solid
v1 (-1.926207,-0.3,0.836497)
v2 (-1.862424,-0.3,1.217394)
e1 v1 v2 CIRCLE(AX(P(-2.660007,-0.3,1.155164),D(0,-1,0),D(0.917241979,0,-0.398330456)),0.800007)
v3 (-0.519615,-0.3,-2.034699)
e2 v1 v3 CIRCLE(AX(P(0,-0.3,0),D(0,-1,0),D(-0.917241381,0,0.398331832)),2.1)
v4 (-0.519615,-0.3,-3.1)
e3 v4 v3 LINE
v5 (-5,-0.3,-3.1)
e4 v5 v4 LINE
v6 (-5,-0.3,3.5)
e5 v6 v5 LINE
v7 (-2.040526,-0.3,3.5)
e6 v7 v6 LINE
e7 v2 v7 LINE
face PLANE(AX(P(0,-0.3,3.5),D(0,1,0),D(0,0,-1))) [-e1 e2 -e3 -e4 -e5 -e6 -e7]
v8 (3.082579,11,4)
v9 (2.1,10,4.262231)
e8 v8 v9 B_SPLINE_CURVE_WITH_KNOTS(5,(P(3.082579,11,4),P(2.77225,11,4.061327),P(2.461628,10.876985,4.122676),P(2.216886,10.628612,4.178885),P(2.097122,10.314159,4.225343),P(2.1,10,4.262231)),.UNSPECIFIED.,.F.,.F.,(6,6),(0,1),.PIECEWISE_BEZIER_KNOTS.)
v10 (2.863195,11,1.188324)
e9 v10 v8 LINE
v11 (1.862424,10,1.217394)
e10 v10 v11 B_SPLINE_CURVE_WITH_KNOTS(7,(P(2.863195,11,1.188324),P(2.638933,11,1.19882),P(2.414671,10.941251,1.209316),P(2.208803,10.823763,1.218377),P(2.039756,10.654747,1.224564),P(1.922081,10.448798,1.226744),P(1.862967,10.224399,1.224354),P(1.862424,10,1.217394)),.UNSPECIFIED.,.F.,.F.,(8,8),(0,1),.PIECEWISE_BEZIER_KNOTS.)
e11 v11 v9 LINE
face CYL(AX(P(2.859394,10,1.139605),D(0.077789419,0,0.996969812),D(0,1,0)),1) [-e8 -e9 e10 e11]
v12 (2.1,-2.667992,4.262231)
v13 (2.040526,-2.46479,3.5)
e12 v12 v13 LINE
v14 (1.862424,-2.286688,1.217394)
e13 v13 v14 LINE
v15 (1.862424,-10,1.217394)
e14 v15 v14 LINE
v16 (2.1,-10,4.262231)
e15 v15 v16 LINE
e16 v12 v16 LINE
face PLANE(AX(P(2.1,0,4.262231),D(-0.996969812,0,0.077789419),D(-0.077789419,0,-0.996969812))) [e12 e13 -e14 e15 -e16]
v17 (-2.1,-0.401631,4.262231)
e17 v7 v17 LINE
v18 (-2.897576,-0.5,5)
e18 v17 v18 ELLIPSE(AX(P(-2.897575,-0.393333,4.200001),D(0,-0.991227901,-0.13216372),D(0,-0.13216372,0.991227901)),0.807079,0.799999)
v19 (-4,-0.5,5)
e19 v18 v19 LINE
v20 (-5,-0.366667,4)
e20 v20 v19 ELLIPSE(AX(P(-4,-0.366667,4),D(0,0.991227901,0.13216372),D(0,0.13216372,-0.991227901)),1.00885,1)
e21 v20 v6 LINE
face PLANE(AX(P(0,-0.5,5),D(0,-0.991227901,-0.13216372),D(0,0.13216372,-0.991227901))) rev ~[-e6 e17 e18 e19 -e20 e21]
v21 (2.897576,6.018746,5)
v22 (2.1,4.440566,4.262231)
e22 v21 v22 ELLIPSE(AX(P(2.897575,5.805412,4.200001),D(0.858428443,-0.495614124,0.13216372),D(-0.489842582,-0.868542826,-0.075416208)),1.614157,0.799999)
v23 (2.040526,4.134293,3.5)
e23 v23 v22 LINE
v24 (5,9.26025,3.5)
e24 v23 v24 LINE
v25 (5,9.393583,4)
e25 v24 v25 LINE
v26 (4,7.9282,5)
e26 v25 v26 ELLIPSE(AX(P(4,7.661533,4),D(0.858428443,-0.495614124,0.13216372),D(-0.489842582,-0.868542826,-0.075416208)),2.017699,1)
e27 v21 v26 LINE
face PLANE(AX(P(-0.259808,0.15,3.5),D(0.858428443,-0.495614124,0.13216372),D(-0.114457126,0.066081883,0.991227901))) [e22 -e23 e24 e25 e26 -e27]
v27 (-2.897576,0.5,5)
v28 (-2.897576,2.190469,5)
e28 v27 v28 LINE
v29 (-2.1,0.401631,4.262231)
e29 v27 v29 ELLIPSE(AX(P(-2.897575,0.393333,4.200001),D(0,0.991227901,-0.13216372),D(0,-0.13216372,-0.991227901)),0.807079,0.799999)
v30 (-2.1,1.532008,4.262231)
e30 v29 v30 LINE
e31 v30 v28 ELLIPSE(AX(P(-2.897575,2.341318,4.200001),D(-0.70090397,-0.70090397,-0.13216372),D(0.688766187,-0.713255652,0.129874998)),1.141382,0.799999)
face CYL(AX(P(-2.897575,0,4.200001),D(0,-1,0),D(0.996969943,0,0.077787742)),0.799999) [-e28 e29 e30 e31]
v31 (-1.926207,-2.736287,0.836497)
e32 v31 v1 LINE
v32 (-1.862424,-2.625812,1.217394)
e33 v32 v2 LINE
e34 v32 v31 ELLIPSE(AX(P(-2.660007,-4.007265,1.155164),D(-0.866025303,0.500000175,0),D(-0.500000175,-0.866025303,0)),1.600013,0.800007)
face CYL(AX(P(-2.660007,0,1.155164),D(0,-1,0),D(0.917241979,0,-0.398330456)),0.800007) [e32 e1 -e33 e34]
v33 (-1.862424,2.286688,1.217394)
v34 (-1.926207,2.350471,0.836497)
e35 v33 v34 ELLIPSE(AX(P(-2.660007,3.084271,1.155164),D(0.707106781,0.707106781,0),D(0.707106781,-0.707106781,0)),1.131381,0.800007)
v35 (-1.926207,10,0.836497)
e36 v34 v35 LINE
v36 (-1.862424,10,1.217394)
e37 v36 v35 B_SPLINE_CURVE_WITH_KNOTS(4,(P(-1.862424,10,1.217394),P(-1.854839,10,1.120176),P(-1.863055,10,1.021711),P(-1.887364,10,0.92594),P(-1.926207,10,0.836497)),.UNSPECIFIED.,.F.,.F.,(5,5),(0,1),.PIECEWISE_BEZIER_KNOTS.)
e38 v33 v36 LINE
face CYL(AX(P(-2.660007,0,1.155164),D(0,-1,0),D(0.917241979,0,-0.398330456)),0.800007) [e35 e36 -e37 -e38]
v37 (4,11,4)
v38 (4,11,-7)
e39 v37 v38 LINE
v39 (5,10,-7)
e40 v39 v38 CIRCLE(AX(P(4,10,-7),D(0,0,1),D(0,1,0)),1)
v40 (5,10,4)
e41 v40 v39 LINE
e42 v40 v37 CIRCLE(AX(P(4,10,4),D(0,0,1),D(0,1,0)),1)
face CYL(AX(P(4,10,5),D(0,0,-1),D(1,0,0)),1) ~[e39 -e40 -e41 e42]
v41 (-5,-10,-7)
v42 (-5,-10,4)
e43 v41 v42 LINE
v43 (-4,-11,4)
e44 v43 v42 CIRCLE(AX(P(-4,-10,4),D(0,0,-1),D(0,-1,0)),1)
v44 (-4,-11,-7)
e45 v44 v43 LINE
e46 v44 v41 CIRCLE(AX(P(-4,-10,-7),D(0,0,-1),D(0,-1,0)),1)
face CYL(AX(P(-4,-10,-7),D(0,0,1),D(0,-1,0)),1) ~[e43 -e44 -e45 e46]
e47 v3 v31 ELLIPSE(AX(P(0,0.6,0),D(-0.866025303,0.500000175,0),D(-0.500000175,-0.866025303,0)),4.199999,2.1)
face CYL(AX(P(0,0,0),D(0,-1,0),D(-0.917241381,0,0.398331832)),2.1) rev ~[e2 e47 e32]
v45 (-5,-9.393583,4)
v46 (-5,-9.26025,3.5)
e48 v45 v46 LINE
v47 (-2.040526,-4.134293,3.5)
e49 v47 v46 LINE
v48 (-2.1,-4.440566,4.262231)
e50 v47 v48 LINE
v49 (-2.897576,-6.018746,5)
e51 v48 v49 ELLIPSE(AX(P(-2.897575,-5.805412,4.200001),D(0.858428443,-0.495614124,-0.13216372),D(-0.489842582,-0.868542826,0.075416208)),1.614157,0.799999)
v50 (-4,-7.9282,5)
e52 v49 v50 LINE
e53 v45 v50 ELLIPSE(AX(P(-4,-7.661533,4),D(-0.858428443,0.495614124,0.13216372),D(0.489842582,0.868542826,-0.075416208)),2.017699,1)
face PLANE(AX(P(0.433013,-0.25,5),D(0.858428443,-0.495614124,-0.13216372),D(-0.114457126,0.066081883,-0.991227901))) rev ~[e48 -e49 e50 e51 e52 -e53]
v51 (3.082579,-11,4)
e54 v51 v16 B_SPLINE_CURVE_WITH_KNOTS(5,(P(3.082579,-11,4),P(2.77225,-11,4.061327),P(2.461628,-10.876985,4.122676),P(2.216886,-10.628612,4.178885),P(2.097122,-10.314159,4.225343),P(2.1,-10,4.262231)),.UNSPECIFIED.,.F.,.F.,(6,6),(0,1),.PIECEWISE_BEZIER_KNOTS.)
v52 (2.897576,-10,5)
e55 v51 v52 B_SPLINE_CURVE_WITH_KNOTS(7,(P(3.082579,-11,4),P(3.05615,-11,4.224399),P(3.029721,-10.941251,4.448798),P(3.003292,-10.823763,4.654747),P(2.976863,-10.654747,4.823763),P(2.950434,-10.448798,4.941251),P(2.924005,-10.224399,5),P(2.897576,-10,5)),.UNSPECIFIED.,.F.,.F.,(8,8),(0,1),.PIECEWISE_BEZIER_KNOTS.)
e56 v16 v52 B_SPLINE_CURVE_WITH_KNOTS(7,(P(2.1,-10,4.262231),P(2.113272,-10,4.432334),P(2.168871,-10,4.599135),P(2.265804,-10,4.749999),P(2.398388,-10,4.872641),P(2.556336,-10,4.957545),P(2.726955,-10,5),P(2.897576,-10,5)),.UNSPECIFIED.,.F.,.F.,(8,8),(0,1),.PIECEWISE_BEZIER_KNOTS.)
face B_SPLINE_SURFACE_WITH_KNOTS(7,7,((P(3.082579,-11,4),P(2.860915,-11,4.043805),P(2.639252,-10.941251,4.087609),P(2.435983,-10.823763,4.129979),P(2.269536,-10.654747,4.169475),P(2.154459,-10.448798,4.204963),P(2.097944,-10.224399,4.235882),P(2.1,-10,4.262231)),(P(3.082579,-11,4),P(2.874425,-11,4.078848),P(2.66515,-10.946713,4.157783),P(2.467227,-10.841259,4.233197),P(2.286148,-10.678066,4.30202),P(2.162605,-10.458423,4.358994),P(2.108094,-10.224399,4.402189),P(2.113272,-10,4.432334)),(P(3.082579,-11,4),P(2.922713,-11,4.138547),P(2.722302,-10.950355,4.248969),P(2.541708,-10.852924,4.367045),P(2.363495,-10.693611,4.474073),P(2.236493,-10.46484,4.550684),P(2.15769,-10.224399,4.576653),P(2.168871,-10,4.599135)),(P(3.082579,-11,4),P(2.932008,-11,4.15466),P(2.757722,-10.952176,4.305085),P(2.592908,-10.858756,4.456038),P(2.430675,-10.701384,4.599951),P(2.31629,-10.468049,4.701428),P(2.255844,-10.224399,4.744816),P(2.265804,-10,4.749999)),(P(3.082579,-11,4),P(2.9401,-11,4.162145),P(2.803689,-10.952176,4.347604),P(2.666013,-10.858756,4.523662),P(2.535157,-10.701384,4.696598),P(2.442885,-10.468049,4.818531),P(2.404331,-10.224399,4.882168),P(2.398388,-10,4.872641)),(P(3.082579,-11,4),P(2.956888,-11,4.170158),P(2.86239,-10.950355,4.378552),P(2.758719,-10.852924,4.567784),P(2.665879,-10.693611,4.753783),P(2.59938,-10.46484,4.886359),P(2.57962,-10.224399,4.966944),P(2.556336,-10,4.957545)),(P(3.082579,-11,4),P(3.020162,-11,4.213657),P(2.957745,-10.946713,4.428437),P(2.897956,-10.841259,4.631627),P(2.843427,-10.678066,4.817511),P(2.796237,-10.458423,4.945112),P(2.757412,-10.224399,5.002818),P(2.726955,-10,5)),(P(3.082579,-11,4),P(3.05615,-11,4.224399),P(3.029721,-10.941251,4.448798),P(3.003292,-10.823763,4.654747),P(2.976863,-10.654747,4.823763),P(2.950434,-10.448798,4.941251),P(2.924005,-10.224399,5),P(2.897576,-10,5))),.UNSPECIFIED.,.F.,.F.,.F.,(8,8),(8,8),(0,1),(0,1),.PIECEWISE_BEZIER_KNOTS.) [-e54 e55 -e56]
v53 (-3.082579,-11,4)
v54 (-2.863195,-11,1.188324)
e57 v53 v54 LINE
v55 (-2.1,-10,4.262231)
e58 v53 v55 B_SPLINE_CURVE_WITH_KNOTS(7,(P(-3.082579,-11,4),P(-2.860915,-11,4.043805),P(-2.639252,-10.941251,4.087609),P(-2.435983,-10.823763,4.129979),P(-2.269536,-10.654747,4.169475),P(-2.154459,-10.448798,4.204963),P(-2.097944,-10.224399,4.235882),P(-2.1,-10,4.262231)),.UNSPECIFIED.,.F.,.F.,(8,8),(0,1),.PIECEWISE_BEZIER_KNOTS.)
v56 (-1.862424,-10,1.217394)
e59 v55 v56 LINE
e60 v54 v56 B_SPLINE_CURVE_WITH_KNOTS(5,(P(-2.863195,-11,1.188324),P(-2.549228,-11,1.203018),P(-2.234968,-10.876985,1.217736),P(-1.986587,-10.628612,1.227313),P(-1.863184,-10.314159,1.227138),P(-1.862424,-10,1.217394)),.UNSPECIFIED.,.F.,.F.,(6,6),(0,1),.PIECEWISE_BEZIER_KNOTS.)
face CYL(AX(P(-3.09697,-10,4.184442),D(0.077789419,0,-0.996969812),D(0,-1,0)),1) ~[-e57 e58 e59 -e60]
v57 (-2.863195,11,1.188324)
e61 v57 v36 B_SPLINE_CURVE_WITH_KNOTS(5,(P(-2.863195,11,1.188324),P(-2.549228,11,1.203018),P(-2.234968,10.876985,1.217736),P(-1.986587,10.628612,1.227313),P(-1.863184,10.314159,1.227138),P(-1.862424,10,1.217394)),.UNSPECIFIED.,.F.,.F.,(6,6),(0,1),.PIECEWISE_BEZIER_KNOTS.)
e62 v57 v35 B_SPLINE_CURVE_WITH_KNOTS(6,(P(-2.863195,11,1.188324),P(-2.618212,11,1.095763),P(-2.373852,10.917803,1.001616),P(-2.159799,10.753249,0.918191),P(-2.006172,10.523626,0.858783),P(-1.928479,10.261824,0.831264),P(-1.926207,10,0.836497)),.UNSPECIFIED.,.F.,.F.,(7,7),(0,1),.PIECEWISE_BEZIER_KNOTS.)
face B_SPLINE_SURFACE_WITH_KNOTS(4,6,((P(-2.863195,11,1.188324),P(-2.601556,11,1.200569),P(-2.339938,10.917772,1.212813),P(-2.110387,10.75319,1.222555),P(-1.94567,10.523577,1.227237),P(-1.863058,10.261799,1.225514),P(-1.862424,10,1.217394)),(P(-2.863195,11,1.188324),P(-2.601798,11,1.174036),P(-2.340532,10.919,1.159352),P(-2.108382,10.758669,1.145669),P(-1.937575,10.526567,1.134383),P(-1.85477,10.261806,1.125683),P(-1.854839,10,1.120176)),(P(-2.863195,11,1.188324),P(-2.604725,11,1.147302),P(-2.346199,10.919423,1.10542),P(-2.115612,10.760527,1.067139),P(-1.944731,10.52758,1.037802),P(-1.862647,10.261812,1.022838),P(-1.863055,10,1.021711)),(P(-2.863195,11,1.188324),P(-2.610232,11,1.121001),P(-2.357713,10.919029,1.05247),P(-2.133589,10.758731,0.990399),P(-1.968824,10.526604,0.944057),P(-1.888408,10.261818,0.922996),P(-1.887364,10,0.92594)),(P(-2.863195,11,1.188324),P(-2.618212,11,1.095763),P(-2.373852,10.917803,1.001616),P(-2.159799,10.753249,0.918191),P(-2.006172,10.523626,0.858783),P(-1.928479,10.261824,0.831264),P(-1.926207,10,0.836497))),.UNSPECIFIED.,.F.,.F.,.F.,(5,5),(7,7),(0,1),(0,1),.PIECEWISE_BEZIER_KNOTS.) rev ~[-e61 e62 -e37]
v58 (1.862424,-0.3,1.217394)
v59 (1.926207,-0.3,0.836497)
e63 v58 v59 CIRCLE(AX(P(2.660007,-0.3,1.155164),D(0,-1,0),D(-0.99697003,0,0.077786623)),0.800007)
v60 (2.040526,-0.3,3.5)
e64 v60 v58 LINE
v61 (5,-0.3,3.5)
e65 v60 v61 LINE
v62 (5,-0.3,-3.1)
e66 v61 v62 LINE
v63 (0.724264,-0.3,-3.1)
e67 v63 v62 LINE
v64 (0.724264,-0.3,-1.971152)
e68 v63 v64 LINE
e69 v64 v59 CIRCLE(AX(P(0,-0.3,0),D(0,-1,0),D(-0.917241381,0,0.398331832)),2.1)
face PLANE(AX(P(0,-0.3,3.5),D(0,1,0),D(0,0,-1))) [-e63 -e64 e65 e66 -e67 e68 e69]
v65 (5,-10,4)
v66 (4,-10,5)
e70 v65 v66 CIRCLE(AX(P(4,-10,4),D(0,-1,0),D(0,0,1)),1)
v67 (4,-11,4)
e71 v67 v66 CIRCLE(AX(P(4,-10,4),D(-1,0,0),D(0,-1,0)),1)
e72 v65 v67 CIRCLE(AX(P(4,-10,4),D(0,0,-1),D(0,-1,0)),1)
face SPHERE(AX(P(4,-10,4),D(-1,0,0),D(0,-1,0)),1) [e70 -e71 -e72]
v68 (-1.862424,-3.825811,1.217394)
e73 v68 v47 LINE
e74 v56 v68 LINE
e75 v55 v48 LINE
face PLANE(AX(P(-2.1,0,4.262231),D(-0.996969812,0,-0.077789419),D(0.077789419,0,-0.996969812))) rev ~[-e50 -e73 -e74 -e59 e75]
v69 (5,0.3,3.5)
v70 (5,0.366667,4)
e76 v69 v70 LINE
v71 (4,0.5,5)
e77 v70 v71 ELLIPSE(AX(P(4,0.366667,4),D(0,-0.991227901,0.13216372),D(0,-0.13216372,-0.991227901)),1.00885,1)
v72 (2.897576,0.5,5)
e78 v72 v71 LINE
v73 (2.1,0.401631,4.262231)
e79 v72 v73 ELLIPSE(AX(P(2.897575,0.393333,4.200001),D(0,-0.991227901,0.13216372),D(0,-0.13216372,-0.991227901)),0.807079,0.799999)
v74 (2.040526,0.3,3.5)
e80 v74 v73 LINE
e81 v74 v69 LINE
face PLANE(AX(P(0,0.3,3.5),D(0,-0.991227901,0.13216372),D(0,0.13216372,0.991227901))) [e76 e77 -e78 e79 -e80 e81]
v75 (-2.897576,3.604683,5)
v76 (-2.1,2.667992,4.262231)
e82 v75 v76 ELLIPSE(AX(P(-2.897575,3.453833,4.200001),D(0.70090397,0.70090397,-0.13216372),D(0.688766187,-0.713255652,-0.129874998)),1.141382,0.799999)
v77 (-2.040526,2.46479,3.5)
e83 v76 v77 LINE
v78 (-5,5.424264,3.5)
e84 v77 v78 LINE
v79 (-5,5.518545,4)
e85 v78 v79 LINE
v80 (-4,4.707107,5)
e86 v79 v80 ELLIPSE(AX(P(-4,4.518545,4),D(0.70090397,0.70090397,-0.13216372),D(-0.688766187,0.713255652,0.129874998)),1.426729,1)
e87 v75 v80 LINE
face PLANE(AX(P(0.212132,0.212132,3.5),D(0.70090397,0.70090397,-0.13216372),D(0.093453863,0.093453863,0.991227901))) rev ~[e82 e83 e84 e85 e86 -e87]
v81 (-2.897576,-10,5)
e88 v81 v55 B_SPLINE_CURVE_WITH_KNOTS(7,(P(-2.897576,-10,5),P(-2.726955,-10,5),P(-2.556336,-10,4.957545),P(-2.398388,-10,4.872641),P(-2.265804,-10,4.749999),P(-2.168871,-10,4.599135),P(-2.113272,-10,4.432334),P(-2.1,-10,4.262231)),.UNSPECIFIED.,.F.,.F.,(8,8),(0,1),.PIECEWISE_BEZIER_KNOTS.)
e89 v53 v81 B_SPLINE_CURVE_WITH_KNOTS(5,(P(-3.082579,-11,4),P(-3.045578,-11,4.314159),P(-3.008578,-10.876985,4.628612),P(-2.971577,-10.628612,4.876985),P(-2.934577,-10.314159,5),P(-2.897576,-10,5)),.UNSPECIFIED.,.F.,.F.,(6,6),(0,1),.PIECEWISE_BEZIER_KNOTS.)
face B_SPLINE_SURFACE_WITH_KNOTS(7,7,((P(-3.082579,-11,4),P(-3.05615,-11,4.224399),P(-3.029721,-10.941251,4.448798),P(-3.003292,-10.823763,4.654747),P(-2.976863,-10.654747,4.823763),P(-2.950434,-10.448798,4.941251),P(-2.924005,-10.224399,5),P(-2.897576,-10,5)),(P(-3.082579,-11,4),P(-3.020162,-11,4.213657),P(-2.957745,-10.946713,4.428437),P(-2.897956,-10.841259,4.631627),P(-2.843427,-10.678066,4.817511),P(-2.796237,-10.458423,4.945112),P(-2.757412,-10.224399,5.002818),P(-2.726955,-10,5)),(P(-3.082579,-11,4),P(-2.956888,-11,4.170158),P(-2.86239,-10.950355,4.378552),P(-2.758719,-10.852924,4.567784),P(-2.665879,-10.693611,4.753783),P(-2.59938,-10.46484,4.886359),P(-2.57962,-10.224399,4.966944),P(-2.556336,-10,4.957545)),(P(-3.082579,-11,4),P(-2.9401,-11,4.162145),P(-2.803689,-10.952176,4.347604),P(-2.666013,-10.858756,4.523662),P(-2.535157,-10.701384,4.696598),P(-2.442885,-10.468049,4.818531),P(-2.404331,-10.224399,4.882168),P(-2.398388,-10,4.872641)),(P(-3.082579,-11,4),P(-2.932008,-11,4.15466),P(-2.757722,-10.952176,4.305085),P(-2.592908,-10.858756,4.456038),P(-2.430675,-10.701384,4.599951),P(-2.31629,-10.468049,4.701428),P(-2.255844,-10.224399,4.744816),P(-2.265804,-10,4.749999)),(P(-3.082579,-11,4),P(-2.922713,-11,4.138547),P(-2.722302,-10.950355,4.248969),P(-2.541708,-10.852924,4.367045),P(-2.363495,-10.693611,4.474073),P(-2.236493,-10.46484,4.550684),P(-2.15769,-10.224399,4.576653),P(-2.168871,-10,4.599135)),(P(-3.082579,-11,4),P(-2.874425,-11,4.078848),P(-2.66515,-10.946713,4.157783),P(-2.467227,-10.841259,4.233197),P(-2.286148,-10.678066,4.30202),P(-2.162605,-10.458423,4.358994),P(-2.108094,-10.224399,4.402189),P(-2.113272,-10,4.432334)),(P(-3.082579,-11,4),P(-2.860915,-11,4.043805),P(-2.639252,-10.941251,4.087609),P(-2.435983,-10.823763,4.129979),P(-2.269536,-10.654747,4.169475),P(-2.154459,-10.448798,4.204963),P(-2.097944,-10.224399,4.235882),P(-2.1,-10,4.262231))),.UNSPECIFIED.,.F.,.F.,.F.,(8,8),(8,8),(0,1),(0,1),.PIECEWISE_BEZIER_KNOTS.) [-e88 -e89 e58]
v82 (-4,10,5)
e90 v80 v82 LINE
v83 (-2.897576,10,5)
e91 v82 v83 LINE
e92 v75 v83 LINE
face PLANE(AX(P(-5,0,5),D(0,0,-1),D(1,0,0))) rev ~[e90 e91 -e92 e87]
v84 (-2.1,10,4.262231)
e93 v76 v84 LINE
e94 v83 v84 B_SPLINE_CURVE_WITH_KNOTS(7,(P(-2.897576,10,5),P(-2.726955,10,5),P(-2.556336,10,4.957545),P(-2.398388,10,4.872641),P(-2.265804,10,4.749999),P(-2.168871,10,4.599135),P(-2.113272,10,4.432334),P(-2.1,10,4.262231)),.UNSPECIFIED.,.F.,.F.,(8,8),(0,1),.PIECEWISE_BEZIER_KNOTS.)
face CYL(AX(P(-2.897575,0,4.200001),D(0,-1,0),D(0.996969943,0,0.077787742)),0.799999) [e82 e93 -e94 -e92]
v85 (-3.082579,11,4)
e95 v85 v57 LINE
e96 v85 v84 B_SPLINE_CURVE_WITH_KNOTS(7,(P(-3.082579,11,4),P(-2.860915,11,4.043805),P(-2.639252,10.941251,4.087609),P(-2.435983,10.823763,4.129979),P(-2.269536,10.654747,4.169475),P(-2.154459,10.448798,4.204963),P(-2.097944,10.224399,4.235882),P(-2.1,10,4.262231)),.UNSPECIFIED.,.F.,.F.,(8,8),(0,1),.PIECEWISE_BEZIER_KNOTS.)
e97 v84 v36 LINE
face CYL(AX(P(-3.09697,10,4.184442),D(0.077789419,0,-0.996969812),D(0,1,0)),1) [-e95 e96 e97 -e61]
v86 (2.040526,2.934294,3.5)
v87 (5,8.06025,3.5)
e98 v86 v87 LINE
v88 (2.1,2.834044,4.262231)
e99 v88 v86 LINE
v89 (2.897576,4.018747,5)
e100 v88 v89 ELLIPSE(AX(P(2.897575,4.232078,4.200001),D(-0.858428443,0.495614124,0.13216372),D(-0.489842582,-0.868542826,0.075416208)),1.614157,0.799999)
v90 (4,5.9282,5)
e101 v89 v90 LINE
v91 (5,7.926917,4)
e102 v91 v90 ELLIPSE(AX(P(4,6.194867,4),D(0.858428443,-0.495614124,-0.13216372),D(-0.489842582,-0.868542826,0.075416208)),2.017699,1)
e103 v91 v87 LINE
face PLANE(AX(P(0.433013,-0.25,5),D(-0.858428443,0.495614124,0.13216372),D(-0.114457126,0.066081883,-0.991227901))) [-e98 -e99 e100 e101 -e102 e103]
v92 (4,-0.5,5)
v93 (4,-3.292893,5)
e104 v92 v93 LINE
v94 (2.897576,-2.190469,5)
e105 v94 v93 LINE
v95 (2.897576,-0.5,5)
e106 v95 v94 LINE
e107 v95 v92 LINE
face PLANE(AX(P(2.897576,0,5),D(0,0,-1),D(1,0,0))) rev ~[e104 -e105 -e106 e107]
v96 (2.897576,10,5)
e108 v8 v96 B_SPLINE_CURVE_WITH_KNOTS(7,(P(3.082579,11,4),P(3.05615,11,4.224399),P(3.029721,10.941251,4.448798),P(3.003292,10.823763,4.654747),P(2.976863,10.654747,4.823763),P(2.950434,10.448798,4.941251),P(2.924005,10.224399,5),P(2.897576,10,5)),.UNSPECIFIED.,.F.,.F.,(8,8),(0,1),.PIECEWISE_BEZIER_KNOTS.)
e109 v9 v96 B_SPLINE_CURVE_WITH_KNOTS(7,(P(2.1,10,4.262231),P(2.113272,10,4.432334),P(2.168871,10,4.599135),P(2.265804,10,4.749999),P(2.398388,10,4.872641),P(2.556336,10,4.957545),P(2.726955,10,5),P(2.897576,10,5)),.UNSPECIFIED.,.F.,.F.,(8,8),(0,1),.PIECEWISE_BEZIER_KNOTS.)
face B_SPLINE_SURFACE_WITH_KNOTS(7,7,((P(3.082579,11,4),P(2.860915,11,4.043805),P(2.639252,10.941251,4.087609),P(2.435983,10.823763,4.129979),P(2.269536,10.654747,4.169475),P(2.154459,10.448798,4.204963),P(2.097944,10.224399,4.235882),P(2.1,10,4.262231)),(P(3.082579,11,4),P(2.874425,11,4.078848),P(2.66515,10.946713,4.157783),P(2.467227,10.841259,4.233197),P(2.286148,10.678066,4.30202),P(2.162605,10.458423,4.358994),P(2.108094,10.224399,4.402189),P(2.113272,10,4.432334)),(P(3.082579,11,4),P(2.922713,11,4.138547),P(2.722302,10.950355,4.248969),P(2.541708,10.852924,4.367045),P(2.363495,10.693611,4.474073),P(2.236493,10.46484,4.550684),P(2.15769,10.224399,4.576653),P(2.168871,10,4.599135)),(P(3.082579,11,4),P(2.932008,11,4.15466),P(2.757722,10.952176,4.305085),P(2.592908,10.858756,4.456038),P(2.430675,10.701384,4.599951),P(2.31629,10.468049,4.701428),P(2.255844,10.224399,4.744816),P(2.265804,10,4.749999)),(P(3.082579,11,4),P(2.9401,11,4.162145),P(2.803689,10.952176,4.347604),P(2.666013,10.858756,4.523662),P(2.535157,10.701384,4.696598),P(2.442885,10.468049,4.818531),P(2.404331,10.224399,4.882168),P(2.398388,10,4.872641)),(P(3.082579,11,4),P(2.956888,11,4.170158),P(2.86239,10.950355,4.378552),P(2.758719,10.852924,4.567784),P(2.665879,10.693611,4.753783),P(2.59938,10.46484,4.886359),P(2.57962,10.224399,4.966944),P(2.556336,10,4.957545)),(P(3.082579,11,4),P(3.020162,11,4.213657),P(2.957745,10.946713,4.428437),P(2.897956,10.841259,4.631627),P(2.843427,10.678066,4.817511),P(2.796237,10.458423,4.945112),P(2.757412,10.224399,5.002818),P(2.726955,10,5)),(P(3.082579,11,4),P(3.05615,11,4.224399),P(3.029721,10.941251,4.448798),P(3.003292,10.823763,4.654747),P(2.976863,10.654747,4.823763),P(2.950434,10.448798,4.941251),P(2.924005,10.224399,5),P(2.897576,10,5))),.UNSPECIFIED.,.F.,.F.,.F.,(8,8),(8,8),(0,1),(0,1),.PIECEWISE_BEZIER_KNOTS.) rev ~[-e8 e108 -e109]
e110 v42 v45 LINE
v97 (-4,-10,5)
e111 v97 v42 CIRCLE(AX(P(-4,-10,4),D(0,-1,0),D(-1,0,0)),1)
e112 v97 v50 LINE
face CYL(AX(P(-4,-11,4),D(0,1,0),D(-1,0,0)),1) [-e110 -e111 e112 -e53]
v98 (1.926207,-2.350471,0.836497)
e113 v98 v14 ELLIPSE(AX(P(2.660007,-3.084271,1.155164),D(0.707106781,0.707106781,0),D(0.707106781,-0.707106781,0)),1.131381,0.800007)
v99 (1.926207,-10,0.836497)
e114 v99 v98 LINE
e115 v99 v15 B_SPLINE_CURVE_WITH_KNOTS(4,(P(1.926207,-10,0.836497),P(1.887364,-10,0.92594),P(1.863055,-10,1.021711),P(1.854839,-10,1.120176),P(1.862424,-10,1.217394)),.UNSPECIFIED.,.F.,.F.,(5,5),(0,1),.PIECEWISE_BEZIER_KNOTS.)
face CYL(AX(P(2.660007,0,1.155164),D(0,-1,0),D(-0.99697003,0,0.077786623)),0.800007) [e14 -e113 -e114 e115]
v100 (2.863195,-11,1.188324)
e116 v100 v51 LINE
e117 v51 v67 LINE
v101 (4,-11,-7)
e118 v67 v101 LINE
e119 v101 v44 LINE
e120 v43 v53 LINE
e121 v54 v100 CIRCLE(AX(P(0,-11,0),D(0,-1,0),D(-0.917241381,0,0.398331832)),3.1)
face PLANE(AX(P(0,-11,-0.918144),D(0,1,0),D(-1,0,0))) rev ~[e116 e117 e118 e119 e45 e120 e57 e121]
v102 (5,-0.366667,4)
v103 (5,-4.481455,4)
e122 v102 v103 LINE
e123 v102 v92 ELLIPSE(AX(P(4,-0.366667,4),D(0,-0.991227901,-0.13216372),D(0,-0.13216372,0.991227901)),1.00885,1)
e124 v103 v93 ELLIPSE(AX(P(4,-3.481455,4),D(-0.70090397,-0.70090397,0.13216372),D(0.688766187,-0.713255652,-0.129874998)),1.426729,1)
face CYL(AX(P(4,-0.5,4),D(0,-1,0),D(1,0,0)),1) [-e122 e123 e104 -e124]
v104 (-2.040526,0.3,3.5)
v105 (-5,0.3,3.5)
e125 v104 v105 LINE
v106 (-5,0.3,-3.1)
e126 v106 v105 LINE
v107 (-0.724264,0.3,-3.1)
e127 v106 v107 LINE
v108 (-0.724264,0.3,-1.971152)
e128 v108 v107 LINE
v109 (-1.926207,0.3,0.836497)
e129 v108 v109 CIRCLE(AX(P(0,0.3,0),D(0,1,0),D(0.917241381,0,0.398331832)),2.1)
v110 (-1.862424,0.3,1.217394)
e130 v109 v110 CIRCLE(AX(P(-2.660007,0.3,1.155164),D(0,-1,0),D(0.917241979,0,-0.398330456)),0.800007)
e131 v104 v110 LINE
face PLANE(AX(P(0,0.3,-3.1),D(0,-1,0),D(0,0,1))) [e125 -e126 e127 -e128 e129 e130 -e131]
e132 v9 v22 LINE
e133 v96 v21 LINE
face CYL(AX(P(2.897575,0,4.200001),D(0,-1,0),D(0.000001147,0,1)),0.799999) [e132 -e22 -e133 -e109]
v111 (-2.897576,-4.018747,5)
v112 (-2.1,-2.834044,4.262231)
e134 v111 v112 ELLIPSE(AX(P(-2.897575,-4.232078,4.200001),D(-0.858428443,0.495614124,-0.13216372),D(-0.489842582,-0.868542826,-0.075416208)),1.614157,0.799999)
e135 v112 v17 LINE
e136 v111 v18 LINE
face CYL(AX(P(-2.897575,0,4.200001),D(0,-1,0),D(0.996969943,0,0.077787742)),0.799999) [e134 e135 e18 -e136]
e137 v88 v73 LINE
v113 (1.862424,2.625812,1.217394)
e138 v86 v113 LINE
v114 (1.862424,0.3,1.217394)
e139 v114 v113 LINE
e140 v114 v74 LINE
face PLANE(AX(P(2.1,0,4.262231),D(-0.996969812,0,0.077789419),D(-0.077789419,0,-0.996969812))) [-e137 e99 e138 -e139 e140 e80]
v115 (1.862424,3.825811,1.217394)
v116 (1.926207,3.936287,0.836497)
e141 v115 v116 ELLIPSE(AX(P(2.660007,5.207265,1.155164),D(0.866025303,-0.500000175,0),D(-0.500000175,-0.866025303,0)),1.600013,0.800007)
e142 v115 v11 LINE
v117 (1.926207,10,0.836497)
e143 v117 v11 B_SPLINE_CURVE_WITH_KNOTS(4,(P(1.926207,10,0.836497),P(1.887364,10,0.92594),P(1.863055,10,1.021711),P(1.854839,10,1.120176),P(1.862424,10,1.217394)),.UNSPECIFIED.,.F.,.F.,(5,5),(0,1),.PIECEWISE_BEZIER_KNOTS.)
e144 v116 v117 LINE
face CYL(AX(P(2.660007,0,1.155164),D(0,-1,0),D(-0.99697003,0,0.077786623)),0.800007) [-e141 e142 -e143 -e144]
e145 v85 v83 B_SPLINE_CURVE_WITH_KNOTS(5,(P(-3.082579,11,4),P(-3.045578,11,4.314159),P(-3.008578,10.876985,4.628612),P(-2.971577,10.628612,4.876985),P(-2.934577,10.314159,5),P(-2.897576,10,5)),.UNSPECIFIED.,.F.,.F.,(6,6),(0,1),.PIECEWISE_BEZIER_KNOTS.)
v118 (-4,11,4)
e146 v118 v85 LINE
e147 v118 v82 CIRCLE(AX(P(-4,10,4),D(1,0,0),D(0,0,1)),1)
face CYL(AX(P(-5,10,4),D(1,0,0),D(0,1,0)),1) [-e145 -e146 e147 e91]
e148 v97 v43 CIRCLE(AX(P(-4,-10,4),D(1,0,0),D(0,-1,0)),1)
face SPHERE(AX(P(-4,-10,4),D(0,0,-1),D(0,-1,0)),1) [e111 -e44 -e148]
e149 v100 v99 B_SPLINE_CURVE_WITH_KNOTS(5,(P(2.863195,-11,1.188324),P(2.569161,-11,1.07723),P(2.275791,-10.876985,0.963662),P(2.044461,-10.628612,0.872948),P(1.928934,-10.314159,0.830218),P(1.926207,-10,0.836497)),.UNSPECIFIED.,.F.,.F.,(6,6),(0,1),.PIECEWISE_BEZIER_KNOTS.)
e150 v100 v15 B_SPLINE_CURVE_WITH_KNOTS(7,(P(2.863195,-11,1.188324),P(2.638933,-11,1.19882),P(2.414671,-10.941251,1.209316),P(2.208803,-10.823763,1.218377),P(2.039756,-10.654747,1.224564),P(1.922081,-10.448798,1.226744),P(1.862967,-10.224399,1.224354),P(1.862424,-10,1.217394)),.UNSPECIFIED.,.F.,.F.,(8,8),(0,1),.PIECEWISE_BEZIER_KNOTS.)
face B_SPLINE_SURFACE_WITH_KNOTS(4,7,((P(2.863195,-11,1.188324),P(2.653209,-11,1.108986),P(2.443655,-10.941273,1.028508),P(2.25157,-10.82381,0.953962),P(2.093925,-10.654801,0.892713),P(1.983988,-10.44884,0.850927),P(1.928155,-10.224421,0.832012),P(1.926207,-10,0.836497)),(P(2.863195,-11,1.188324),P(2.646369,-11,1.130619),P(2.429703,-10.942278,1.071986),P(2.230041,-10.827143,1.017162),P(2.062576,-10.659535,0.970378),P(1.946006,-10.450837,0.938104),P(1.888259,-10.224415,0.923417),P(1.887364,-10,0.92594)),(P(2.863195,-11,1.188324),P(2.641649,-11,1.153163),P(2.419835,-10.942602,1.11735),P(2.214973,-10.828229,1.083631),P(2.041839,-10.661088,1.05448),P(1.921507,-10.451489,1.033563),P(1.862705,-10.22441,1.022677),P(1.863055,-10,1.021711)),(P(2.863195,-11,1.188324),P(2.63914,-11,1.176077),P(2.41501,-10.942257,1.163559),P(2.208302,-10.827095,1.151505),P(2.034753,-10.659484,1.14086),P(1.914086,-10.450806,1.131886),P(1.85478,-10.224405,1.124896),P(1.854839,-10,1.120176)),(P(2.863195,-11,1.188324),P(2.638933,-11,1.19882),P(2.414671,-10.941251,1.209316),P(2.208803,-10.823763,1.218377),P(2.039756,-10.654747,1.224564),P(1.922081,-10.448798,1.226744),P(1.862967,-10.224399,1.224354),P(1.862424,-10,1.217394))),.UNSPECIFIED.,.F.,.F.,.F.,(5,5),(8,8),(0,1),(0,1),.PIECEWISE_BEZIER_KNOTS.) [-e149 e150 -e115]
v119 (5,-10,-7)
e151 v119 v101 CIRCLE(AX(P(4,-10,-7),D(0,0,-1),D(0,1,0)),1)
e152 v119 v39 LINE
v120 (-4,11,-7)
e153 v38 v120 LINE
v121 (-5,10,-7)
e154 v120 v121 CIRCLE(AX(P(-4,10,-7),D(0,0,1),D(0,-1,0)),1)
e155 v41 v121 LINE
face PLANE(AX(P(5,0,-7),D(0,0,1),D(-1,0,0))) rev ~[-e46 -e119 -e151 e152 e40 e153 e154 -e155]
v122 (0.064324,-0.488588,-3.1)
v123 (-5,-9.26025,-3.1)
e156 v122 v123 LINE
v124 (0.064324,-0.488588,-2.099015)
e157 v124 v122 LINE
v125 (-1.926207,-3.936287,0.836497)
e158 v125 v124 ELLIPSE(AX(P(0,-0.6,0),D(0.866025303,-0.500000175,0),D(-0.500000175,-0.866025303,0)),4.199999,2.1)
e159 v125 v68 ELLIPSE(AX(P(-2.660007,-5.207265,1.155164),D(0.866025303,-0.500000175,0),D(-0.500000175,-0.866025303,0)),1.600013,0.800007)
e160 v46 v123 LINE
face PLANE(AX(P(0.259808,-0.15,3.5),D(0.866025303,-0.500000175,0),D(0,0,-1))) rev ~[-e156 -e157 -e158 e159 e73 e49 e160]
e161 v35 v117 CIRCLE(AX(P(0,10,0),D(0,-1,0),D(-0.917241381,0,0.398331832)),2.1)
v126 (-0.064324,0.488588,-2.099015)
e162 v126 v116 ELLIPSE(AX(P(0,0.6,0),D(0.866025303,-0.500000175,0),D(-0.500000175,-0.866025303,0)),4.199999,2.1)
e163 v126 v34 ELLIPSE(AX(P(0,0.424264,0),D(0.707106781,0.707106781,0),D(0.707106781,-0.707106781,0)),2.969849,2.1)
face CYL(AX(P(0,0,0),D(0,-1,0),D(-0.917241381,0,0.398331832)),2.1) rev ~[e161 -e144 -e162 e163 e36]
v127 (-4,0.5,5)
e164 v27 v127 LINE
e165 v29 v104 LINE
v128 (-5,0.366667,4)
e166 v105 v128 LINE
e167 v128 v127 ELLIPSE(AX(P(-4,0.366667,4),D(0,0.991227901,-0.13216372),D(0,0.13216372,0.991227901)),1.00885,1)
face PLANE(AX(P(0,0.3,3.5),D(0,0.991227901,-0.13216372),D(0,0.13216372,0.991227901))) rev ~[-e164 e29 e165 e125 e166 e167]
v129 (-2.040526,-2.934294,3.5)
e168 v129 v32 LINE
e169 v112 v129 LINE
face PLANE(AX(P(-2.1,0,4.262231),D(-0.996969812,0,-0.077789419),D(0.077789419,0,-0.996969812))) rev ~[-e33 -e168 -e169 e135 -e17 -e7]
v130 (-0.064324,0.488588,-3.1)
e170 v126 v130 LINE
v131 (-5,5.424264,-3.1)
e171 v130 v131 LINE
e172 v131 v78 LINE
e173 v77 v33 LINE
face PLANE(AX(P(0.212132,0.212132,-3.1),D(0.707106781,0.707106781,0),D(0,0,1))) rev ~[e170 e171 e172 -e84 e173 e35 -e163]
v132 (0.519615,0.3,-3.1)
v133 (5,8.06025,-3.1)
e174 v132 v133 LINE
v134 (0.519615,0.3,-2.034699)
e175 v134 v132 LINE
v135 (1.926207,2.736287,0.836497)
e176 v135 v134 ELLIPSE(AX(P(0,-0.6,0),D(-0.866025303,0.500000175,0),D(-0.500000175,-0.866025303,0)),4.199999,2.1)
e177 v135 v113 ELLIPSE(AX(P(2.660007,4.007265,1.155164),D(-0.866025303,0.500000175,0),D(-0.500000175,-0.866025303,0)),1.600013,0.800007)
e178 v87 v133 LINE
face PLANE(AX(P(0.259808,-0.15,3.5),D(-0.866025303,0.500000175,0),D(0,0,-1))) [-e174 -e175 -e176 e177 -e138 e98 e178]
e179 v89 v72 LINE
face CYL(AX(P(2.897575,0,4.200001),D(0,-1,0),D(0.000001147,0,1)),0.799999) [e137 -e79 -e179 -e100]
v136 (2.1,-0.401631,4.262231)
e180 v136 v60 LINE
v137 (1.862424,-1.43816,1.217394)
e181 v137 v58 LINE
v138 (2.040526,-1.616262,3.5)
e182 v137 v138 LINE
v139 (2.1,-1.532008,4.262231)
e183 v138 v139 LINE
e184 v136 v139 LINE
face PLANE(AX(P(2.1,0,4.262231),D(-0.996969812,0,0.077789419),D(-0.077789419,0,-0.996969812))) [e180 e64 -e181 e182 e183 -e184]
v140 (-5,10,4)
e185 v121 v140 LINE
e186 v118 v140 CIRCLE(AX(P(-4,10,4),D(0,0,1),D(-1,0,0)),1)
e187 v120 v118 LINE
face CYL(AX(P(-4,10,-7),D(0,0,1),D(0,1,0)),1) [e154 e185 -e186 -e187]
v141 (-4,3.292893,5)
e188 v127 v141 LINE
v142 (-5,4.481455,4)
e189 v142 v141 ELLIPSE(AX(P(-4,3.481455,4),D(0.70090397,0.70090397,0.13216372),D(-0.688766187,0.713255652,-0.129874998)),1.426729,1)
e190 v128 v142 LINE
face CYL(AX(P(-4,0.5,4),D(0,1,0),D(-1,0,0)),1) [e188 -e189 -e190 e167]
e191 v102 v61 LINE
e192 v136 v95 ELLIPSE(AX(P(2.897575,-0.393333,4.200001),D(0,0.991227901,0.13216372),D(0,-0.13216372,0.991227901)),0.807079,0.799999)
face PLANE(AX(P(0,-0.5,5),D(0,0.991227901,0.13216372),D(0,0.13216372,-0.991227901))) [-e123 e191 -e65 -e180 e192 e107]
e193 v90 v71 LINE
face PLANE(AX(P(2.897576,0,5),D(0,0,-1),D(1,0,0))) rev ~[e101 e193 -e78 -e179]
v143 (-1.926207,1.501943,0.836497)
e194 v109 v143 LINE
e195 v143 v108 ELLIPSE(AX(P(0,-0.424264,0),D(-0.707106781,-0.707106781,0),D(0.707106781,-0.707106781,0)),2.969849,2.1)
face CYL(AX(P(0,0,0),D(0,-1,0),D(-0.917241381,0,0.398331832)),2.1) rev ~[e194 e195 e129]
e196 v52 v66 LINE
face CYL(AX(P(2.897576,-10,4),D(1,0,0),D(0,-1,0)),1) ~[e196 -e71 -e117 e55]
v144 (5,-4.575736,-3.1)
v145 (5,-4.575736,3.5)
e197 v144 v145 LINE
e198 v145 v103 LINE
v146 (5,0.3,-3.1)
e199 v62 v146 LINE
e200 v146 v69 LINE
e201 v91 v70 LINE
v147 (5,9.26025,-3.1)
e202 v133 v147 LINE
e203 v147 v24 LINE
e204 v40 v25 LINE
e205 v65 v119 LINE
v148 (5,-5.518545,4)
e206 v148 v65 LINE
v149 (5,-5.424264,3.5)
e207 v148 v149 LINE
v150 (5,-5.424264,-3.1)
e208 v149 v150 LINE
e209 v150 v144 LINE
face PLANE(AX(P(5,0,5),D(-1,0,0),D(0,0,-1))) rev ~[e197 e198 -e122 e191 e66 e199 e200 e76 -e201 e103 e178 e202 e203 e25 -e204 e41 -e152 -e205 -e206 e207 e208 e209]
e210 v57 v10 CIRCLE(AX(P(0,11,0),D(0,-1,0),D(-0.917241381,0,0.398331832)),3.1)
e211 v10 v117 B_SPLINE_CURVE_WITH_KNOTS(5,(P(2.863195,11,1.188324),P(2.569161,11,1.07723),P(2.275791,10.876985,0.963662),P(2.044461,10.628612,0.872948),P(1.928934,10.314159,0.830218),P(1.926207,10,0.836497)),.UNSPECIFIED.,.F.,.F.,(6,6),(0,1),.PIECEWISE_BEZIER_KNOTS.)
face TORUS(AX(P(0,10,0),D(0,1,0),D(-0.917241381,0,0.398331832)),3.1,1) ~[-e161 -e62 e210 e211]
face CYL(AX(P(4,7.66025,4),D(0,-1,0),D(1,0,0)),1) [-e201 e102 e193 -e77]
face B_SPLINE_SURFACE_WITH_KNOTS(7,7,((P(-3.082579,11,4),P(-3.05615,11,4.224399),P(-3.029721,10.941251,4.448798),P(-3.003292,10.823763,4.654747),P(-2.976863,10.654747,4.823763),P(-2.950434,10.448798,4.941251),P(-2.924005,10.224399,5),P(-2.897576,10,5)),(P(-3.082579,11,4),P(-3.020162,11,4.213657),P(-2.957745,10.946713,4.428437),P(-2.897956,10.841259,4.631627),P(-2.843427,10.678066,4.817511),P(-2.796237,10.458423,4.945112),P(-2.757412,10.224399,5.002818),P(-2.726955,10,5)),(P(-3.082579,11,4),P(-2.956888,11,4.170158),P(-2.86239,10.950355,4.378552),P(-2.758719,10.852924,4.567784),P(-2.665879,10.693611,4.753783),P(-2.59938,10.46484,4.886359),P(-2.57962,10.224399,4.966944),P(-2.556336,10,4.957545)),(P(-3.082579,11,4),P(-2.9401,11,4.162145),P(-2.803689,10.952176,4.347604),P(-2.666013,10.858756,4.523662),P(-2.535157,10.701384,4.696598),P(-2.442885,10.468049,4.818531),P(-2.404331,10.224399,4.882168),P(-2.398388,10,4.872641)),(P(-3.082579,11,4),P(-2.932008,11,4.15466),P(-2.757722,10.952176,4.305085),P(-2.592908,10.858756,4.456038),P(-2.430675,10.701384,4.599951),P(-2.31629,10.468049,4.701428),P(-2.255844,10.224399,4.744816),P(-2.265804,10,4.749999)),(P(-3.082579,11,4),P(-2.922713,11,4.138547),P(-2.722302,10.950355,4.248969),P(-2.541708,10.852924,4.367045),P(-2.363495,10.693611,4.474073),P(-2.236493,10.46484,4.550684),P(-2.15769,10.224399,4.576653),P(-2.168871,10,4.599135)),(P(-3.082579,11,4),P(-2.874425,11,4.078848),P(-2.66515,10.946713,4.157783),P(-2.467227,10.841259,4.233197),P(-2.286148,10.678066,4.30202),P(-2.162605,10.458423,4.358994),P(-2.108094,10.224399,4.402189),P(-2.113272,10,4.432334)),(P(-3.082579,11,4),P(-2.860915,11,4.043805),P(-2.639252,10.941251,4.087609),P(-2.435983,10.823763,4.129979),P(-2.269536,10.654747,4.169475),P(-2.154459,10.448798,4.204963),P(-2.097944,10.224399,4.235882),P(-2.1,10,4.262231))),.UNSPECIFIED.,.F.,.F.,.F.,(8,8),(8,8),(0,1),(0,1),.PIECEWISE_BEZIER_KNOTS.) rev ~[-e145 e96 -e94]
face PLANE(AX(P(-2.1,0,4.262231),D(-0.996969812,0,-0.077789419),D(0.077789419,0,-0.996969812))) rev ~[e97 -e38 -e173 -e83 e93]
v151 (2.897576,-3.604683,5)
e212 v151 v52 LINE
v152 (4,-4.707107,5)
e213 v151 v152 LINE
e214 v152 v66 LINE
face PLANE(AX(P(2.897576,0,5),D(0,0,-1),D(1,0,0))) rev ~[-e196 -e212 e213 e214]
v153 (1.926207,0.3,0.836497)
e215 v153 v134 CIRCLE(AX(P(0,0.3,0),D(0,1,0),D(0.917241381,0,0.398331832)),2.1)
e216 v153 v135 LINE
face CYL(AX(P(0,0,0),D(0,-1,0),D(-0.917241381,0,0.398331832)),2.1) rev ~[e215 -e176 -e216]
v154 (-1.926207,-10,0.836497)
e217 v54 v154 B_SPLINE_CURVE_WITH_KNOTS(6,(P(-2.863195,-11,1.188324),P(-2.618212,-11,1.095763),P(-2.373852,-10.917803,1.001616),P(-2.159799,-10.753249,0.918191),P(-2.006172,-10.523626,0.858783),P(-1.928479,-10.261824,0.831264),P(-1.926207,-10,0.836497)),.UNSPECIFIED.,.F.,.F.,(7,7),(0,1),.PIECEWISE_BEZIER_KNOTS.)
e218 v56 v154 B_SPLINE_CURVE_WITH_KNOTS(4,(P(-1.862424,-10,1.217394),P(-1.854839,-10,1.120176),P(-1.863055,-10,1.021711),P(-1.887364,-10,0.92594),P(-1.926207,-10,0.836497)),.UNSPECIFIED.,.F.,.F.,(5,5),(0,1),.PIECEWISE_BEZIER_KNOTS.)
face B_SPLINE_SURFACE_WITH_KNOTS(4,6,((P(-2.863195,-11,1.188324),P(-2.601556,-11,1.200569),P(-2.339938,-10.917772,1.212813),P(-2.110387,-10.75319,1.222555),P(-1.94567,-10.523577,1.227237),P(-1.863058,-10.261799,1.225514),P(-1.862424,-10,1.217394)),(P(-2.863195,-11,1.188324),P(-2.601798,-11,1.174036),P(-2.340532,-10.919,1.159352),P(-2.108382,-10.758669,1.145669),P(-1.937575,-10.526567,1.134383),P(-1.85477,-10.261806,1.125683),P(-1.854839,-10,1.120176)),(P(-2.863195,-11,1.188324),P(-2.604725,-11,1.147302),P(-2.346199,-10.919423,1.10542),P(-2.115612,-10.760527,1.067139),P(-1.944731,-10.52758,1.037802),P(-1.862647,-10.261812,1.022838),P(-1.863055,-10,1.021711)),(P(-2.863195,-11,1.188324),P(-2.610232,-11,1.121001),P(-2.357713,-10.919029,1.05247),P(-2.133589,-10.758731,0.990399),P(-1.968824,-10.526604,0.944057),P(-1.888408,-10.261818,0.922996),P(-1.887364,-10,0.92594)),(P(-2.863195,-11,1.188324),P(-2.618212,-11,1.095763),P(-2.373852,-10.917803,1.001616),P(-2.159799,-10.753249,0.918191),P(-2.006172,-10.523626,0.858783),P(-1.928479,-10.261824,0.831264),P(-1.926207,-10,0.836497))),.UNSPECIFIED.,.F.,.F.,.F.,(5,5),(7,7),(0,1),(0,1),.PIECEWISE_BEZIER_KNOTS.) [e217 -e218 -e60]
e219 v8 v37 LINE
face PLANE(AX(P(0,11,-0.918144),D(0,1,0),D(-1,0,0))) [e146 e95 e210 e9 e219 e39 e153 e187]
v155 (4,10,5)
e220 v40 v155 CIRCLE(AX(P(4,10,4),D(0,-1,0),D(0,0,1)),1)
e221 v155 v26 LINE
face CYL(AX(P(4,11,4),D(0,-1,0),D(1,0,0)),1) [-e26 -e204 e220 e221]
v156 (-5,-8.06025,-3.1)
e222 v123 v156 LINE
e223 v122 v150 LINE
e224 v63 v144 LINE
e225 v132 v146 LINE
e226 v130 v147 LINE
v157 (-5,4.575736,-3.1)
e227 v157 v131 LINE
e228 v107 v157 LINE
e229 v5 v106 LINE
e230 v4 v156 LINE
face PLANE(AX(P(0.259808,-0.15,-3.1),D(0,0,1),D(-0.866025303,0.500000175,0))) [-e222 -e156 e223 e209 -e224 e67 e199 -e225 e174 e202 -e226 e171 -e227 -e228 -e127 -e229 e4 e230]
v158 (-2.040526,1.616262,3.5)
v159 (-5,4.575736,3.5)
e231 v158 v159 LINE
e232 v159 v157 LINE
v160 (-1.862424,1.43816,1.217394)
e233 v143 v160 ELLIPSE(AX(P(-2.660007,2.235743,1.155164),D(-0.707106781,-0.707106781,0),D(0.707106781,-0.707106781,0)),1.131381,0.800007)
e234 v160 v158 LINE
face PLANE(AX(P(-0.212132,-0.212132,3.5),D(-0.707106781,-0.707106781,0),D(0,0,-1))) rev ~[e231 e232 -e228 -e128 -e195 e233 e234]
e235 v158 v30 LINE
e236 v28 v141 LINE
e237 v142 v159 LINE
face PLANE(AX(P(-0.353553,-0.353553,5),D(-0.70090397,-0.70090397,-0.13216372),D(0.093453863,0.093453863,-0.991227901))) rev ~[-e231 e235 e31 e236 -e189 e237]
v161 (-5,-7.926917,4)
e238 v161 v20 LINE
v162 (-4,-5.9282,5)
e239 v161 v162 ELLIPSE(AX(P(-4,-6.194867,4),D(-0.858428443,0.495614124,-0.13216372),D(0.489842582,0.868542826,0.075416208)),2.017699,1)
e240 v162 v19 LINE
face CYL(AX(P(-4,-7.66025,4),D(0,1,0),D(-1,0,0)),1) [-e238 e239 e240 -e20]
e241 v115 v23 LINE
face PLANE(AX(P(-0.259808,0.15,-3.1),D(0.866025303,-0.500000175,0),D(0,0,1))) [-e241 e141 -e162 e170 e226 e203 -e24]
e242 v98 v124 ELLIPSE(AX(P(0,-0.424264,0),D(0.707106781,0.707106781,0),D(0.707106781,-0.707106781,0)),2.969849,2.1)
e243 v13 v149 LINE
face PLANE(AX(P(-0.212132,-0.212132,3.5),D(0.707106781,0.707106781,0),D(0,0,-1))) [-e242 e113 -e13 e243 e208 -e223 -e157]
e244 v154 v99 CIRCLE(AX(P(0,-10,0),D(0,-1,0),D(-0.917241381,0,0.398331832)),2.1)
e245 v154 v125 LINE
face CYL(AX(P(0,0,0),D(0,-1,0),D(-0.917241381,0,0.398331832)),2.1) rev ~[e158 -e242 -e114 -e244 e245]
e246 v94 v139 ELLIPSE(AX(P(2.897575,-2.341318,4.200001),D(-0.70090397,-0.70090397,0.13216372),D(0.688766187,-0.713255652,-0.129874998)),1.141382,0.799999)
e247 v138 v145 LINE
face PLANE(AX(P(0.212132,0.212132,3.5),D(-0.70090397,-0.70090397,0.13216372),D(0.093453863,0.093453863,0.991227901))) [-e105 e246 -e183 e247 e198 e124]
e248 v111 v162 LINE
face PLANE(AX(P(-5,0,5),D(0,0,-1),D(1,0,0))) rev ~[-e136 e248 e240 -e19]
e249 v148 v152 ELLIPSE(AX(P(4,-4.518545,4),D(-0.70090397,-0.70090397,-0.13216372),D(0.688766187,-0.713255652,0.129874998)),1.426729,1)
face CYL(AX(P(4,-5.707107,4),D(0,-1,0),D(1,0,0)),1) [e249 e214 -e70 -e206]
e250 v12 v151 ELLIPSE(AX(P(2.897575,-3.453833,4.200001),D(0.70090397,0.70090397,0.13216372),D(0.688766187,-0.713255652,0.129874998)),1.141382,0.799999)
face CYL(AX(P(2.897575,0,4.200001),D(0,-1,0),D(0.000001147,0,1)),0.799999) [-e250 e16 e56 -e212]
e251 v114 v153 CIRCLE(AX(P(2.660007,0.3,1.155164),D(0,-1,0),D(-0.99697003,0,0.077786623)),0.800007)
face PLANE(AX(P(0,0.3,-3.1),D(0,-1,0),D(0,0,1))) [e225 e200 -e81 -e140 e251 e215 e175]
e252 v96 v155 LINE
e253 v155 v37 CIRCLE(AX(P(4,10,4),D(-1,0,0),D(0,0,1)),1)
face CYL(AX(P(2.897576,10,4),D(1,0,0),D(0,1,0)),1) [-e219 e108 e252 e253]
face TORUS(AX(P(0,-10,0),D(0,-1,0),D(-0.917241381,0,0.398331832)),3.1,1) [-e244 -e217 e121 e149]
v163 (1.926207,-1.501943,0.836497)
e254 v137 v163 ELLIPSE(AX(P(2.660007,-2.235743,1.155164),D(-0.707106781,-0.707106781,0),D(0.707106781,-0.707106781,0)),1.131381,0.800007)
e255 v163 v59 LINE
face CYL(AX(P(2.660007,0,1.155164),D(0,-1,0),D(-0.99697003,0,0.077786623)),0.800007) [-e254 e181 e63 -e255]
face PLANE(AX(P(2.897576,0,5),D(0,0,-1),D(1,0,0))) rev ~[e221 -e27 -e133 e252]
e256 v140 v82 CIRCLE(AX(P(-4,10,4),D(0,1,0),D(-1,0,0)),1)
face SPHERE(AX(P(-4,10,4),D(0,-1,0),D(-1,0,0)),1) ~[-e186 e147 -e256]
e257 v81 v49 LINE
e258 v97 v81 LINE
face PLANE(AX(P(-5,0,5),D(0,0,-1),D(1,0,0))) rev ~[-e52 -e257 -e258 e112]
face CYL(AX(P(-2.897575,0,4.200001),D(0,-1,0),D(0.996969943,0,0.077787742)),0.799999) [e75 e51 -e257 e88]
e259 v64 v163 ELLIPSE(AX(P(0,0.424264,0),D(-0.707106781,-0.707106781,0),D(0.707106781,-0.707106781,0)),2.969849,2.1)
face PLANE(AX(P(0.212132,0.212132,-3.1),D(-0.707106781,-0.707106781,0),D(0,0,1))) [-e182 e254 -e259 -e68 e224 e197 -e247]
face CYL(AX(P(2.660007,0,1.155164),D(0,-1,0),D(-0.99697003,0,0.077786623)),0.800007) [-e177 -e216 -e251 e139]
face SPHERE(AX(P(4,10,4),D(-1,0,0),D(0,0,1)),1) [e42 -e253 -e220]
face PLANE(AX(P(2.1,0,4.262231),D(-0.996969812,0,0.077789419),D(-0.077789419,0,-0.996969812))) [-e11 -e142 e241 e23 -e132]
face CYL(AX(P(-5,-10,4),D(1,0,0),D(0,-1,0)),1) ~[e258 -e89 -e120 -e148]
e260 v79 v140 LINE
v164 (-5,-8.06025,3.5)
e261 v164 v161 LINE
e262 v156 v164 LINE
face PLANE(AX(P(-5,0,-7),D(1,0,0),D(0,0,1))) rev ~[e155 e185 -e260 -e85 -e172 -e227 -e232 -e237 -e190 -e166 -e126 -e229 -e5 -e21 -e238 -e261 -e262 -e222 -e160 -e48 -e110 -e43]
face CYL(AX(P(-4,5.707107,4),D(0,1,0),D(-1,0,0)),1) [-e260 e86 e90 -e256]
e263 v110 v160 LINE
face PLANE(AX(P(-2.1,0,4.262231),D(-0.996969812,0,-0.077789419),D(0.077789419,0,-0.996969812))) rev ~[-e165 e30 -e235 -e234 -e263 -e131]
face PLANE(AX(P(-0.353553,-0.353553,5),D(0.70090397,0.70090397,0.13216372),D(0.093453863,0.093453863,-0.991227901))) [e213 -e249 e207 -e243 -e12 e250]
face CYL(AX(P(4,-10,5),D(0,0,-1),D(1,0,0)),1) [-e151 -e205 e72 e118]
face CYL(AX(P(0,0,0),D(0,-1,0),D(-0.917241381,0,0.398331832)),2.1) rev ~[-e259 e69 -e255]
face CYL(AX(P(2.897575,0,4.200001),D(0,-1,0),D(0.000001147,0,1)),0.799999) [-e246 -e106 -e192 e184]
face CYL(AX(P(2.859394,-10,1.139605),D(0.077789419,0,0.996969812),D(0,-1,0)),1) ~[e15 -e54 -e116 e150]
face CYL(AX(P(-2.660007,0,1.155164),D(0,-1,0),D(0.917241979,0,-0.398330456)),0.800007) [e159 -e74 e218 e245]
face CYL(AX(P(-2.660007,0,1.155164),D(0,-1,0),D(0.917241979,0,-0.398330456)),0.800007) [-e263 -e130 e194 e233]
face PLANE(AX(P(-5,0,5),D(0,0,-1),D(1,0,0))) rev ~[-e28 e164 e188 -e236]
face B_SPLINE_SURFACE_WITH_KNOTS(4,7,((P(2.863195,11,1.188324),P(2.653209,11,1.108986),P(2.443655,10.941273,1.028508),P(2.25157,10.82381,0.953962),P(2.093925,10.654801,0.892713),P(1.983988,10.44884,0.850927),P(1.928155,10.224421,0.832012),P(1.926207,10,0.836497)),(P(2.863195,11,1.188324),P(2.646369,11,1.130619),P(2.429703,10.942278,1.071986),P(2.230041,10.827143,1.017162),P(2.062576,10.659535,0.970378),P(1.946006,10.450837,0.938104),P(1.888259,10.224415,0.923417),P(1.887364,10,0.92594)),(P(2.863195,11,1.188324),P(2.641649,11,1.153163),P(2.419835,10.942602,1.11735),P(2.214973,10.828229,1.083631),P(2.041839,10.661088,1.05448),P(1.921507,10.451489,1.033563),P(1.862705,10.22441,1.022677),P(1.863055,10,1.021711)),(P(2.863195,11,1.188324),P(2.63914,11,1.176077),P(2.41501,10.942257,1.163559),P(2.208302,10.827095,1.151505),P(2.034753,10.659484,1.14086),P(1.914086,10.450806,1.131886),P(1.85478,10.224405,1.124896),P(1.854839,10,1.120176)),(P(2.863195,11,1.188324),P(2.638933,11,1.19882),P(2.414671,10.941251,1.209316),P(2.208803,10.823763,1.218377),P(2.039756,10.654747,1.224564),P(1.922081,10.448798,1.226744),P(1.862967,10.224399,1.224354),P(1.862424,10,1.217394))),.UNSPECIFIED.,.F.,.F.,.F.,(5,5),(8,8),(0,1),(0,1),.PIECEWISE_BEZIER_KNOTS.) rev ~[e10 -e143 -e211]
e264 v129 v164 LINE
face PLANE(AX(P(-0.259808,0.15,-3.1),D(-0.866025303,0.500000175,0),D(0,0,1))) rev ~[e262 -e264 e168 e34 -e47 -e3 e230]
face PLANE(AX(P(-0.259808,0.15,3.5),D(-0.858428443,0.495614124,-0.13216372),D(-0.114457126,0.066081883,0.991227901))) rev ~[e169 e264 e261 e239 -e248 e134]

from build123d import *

# Parameters (mm, degrees)
PAD_DEPTH            = 11
POCKET_DEPTH         = 5.001
POCKET_DEPTH_BACK    = 5.001
POCKET001_DEPTH      = 11.314708
POCKET001_DEPTH_BACK = 11.314708
POCKET002_DEPTH      = 12.027279
POCKET002_DEPTH_BACK = 12.027279
FILLET_R             = 1


with BuildPart() as part:
    # Sketch → Pad (new body, symmetric)
    with BuildSketch(Plane.XZ):
        with BuildLine():
            Line((5, 5), (5, -7))
            Line((5, -7), (-5, -7))
            Line((-5, -7), (-5, 5))
            Line((-5, 5), (-2.897576, 5))
            ThreePointArc((-2.1, 4.262231), (-2.354338, 4.787276), (-2.897576, 5))
            Line((-2.1, 4.262231), (-1.862424, 1.217394))
            ThreePointArc((-1.926207, 0.836497), (-1.870986, 1.023039), (-1.862424, 1.217394))
            ThreePointArc((-1.926207, 0.836497), (0, -2.1), (1.926207, 0.836497))
            ThreePointArc((1.862424, 1.217394), (1.870986, 1.023039), (1.926207, 0.836497))
            Line((2.1, 4.262231), (1.862424, 1.217394))
            ThreePointArc((2.897576, 5), (2.354338, 4.787276), (2.1, 4.262231))
            Line((2.897576, 5), (5, 5))
        make_face()
    extrude(amount=PAD_DEPTH, both=True)

    # Sketch001 → Pocket (cut, two sides)
    with BuildSketch(Plane.YZ) as pocket_sk:
        Polygon((-0.3, -3.1), (0.3, -3.1), (0.3, 3.5), (0.5, 5), (-0.5, 5), (-0.3, 3.5), align=None)
    extrude(amount=-POCKET_DEPTH, mode=Mode.SUBTRACT)
    extrude(pocket_sk.sketch, amount=POCKET_DEPTH_BACK, mode=Mode.SUBTRACT)

    # Sketch002 → Pocket001 (cut, two sides)
    with BuildSketch(Plane(origin=(0, 0, 0), x_dir=(0.707107, 0.707107, 0), z_dir=(0.707107, -0.707107, 0))) as pocket001_sk:
        Polygon((-0.3, -3.1), (0.3, -3.1), (0.3, 3.5), (0.5, 5), (-0.5, 5), (-0.3, 3.5), align=None)
    extrude(amount=-POCKET001_DEPTH, mode=Mode.SUBTRACT)
    extrude(pocket001_sk.sketch, amount=POCKET001_DEPTH_BACK, mode=Mode.SUBTRACT)

    # Sketch003 → Pocket002 (cut, two sides)
    with BuildSketch(Plane(origin=(0, 0, 0), x_dir=(-0.866025, 0.5, 0), z_dir=(0.5, 0.866025, 0))) as pocket002_sk:
        Polygon((-0.3, -3.1), (0.3, -3.1), (0.3, 3.5), (0.5, 5), (-0.5, 5), (-0.3, 3.5), align=None)
    extrude(amount=-POCKET002_DEPTH, mode=Mode.SUBTRACT)
    extrude(pocket002_sk.sketch, amount=POCKET002_DEPTH_BACK, mode=Mode.SUBTRACT)

    # Fillet
    fillet_edges = [part.edges().sort_by_distance(p)[0] for p in [
        (-5, -11, -1),
        (-3.948788, -11, 5),
        (-5, -10.330127, 5),
        (-5, -4.080127, 5),
        (-5, 2.396447, 5),
        (-5, 8.353553, 5),
        (-5, 11, -1),
        (-3.948788, 11, 5),
        (5, 10.330127, 5),
        (5, 4.080127, 5),
        (5, 11, -1),
        (5, -11, -1),
        (5, -8.353553, 5),
        (5, -2.396447, 5),
    ]]
    fillet(fillet_edges, radius=FILLET_R)


solid = part.part
